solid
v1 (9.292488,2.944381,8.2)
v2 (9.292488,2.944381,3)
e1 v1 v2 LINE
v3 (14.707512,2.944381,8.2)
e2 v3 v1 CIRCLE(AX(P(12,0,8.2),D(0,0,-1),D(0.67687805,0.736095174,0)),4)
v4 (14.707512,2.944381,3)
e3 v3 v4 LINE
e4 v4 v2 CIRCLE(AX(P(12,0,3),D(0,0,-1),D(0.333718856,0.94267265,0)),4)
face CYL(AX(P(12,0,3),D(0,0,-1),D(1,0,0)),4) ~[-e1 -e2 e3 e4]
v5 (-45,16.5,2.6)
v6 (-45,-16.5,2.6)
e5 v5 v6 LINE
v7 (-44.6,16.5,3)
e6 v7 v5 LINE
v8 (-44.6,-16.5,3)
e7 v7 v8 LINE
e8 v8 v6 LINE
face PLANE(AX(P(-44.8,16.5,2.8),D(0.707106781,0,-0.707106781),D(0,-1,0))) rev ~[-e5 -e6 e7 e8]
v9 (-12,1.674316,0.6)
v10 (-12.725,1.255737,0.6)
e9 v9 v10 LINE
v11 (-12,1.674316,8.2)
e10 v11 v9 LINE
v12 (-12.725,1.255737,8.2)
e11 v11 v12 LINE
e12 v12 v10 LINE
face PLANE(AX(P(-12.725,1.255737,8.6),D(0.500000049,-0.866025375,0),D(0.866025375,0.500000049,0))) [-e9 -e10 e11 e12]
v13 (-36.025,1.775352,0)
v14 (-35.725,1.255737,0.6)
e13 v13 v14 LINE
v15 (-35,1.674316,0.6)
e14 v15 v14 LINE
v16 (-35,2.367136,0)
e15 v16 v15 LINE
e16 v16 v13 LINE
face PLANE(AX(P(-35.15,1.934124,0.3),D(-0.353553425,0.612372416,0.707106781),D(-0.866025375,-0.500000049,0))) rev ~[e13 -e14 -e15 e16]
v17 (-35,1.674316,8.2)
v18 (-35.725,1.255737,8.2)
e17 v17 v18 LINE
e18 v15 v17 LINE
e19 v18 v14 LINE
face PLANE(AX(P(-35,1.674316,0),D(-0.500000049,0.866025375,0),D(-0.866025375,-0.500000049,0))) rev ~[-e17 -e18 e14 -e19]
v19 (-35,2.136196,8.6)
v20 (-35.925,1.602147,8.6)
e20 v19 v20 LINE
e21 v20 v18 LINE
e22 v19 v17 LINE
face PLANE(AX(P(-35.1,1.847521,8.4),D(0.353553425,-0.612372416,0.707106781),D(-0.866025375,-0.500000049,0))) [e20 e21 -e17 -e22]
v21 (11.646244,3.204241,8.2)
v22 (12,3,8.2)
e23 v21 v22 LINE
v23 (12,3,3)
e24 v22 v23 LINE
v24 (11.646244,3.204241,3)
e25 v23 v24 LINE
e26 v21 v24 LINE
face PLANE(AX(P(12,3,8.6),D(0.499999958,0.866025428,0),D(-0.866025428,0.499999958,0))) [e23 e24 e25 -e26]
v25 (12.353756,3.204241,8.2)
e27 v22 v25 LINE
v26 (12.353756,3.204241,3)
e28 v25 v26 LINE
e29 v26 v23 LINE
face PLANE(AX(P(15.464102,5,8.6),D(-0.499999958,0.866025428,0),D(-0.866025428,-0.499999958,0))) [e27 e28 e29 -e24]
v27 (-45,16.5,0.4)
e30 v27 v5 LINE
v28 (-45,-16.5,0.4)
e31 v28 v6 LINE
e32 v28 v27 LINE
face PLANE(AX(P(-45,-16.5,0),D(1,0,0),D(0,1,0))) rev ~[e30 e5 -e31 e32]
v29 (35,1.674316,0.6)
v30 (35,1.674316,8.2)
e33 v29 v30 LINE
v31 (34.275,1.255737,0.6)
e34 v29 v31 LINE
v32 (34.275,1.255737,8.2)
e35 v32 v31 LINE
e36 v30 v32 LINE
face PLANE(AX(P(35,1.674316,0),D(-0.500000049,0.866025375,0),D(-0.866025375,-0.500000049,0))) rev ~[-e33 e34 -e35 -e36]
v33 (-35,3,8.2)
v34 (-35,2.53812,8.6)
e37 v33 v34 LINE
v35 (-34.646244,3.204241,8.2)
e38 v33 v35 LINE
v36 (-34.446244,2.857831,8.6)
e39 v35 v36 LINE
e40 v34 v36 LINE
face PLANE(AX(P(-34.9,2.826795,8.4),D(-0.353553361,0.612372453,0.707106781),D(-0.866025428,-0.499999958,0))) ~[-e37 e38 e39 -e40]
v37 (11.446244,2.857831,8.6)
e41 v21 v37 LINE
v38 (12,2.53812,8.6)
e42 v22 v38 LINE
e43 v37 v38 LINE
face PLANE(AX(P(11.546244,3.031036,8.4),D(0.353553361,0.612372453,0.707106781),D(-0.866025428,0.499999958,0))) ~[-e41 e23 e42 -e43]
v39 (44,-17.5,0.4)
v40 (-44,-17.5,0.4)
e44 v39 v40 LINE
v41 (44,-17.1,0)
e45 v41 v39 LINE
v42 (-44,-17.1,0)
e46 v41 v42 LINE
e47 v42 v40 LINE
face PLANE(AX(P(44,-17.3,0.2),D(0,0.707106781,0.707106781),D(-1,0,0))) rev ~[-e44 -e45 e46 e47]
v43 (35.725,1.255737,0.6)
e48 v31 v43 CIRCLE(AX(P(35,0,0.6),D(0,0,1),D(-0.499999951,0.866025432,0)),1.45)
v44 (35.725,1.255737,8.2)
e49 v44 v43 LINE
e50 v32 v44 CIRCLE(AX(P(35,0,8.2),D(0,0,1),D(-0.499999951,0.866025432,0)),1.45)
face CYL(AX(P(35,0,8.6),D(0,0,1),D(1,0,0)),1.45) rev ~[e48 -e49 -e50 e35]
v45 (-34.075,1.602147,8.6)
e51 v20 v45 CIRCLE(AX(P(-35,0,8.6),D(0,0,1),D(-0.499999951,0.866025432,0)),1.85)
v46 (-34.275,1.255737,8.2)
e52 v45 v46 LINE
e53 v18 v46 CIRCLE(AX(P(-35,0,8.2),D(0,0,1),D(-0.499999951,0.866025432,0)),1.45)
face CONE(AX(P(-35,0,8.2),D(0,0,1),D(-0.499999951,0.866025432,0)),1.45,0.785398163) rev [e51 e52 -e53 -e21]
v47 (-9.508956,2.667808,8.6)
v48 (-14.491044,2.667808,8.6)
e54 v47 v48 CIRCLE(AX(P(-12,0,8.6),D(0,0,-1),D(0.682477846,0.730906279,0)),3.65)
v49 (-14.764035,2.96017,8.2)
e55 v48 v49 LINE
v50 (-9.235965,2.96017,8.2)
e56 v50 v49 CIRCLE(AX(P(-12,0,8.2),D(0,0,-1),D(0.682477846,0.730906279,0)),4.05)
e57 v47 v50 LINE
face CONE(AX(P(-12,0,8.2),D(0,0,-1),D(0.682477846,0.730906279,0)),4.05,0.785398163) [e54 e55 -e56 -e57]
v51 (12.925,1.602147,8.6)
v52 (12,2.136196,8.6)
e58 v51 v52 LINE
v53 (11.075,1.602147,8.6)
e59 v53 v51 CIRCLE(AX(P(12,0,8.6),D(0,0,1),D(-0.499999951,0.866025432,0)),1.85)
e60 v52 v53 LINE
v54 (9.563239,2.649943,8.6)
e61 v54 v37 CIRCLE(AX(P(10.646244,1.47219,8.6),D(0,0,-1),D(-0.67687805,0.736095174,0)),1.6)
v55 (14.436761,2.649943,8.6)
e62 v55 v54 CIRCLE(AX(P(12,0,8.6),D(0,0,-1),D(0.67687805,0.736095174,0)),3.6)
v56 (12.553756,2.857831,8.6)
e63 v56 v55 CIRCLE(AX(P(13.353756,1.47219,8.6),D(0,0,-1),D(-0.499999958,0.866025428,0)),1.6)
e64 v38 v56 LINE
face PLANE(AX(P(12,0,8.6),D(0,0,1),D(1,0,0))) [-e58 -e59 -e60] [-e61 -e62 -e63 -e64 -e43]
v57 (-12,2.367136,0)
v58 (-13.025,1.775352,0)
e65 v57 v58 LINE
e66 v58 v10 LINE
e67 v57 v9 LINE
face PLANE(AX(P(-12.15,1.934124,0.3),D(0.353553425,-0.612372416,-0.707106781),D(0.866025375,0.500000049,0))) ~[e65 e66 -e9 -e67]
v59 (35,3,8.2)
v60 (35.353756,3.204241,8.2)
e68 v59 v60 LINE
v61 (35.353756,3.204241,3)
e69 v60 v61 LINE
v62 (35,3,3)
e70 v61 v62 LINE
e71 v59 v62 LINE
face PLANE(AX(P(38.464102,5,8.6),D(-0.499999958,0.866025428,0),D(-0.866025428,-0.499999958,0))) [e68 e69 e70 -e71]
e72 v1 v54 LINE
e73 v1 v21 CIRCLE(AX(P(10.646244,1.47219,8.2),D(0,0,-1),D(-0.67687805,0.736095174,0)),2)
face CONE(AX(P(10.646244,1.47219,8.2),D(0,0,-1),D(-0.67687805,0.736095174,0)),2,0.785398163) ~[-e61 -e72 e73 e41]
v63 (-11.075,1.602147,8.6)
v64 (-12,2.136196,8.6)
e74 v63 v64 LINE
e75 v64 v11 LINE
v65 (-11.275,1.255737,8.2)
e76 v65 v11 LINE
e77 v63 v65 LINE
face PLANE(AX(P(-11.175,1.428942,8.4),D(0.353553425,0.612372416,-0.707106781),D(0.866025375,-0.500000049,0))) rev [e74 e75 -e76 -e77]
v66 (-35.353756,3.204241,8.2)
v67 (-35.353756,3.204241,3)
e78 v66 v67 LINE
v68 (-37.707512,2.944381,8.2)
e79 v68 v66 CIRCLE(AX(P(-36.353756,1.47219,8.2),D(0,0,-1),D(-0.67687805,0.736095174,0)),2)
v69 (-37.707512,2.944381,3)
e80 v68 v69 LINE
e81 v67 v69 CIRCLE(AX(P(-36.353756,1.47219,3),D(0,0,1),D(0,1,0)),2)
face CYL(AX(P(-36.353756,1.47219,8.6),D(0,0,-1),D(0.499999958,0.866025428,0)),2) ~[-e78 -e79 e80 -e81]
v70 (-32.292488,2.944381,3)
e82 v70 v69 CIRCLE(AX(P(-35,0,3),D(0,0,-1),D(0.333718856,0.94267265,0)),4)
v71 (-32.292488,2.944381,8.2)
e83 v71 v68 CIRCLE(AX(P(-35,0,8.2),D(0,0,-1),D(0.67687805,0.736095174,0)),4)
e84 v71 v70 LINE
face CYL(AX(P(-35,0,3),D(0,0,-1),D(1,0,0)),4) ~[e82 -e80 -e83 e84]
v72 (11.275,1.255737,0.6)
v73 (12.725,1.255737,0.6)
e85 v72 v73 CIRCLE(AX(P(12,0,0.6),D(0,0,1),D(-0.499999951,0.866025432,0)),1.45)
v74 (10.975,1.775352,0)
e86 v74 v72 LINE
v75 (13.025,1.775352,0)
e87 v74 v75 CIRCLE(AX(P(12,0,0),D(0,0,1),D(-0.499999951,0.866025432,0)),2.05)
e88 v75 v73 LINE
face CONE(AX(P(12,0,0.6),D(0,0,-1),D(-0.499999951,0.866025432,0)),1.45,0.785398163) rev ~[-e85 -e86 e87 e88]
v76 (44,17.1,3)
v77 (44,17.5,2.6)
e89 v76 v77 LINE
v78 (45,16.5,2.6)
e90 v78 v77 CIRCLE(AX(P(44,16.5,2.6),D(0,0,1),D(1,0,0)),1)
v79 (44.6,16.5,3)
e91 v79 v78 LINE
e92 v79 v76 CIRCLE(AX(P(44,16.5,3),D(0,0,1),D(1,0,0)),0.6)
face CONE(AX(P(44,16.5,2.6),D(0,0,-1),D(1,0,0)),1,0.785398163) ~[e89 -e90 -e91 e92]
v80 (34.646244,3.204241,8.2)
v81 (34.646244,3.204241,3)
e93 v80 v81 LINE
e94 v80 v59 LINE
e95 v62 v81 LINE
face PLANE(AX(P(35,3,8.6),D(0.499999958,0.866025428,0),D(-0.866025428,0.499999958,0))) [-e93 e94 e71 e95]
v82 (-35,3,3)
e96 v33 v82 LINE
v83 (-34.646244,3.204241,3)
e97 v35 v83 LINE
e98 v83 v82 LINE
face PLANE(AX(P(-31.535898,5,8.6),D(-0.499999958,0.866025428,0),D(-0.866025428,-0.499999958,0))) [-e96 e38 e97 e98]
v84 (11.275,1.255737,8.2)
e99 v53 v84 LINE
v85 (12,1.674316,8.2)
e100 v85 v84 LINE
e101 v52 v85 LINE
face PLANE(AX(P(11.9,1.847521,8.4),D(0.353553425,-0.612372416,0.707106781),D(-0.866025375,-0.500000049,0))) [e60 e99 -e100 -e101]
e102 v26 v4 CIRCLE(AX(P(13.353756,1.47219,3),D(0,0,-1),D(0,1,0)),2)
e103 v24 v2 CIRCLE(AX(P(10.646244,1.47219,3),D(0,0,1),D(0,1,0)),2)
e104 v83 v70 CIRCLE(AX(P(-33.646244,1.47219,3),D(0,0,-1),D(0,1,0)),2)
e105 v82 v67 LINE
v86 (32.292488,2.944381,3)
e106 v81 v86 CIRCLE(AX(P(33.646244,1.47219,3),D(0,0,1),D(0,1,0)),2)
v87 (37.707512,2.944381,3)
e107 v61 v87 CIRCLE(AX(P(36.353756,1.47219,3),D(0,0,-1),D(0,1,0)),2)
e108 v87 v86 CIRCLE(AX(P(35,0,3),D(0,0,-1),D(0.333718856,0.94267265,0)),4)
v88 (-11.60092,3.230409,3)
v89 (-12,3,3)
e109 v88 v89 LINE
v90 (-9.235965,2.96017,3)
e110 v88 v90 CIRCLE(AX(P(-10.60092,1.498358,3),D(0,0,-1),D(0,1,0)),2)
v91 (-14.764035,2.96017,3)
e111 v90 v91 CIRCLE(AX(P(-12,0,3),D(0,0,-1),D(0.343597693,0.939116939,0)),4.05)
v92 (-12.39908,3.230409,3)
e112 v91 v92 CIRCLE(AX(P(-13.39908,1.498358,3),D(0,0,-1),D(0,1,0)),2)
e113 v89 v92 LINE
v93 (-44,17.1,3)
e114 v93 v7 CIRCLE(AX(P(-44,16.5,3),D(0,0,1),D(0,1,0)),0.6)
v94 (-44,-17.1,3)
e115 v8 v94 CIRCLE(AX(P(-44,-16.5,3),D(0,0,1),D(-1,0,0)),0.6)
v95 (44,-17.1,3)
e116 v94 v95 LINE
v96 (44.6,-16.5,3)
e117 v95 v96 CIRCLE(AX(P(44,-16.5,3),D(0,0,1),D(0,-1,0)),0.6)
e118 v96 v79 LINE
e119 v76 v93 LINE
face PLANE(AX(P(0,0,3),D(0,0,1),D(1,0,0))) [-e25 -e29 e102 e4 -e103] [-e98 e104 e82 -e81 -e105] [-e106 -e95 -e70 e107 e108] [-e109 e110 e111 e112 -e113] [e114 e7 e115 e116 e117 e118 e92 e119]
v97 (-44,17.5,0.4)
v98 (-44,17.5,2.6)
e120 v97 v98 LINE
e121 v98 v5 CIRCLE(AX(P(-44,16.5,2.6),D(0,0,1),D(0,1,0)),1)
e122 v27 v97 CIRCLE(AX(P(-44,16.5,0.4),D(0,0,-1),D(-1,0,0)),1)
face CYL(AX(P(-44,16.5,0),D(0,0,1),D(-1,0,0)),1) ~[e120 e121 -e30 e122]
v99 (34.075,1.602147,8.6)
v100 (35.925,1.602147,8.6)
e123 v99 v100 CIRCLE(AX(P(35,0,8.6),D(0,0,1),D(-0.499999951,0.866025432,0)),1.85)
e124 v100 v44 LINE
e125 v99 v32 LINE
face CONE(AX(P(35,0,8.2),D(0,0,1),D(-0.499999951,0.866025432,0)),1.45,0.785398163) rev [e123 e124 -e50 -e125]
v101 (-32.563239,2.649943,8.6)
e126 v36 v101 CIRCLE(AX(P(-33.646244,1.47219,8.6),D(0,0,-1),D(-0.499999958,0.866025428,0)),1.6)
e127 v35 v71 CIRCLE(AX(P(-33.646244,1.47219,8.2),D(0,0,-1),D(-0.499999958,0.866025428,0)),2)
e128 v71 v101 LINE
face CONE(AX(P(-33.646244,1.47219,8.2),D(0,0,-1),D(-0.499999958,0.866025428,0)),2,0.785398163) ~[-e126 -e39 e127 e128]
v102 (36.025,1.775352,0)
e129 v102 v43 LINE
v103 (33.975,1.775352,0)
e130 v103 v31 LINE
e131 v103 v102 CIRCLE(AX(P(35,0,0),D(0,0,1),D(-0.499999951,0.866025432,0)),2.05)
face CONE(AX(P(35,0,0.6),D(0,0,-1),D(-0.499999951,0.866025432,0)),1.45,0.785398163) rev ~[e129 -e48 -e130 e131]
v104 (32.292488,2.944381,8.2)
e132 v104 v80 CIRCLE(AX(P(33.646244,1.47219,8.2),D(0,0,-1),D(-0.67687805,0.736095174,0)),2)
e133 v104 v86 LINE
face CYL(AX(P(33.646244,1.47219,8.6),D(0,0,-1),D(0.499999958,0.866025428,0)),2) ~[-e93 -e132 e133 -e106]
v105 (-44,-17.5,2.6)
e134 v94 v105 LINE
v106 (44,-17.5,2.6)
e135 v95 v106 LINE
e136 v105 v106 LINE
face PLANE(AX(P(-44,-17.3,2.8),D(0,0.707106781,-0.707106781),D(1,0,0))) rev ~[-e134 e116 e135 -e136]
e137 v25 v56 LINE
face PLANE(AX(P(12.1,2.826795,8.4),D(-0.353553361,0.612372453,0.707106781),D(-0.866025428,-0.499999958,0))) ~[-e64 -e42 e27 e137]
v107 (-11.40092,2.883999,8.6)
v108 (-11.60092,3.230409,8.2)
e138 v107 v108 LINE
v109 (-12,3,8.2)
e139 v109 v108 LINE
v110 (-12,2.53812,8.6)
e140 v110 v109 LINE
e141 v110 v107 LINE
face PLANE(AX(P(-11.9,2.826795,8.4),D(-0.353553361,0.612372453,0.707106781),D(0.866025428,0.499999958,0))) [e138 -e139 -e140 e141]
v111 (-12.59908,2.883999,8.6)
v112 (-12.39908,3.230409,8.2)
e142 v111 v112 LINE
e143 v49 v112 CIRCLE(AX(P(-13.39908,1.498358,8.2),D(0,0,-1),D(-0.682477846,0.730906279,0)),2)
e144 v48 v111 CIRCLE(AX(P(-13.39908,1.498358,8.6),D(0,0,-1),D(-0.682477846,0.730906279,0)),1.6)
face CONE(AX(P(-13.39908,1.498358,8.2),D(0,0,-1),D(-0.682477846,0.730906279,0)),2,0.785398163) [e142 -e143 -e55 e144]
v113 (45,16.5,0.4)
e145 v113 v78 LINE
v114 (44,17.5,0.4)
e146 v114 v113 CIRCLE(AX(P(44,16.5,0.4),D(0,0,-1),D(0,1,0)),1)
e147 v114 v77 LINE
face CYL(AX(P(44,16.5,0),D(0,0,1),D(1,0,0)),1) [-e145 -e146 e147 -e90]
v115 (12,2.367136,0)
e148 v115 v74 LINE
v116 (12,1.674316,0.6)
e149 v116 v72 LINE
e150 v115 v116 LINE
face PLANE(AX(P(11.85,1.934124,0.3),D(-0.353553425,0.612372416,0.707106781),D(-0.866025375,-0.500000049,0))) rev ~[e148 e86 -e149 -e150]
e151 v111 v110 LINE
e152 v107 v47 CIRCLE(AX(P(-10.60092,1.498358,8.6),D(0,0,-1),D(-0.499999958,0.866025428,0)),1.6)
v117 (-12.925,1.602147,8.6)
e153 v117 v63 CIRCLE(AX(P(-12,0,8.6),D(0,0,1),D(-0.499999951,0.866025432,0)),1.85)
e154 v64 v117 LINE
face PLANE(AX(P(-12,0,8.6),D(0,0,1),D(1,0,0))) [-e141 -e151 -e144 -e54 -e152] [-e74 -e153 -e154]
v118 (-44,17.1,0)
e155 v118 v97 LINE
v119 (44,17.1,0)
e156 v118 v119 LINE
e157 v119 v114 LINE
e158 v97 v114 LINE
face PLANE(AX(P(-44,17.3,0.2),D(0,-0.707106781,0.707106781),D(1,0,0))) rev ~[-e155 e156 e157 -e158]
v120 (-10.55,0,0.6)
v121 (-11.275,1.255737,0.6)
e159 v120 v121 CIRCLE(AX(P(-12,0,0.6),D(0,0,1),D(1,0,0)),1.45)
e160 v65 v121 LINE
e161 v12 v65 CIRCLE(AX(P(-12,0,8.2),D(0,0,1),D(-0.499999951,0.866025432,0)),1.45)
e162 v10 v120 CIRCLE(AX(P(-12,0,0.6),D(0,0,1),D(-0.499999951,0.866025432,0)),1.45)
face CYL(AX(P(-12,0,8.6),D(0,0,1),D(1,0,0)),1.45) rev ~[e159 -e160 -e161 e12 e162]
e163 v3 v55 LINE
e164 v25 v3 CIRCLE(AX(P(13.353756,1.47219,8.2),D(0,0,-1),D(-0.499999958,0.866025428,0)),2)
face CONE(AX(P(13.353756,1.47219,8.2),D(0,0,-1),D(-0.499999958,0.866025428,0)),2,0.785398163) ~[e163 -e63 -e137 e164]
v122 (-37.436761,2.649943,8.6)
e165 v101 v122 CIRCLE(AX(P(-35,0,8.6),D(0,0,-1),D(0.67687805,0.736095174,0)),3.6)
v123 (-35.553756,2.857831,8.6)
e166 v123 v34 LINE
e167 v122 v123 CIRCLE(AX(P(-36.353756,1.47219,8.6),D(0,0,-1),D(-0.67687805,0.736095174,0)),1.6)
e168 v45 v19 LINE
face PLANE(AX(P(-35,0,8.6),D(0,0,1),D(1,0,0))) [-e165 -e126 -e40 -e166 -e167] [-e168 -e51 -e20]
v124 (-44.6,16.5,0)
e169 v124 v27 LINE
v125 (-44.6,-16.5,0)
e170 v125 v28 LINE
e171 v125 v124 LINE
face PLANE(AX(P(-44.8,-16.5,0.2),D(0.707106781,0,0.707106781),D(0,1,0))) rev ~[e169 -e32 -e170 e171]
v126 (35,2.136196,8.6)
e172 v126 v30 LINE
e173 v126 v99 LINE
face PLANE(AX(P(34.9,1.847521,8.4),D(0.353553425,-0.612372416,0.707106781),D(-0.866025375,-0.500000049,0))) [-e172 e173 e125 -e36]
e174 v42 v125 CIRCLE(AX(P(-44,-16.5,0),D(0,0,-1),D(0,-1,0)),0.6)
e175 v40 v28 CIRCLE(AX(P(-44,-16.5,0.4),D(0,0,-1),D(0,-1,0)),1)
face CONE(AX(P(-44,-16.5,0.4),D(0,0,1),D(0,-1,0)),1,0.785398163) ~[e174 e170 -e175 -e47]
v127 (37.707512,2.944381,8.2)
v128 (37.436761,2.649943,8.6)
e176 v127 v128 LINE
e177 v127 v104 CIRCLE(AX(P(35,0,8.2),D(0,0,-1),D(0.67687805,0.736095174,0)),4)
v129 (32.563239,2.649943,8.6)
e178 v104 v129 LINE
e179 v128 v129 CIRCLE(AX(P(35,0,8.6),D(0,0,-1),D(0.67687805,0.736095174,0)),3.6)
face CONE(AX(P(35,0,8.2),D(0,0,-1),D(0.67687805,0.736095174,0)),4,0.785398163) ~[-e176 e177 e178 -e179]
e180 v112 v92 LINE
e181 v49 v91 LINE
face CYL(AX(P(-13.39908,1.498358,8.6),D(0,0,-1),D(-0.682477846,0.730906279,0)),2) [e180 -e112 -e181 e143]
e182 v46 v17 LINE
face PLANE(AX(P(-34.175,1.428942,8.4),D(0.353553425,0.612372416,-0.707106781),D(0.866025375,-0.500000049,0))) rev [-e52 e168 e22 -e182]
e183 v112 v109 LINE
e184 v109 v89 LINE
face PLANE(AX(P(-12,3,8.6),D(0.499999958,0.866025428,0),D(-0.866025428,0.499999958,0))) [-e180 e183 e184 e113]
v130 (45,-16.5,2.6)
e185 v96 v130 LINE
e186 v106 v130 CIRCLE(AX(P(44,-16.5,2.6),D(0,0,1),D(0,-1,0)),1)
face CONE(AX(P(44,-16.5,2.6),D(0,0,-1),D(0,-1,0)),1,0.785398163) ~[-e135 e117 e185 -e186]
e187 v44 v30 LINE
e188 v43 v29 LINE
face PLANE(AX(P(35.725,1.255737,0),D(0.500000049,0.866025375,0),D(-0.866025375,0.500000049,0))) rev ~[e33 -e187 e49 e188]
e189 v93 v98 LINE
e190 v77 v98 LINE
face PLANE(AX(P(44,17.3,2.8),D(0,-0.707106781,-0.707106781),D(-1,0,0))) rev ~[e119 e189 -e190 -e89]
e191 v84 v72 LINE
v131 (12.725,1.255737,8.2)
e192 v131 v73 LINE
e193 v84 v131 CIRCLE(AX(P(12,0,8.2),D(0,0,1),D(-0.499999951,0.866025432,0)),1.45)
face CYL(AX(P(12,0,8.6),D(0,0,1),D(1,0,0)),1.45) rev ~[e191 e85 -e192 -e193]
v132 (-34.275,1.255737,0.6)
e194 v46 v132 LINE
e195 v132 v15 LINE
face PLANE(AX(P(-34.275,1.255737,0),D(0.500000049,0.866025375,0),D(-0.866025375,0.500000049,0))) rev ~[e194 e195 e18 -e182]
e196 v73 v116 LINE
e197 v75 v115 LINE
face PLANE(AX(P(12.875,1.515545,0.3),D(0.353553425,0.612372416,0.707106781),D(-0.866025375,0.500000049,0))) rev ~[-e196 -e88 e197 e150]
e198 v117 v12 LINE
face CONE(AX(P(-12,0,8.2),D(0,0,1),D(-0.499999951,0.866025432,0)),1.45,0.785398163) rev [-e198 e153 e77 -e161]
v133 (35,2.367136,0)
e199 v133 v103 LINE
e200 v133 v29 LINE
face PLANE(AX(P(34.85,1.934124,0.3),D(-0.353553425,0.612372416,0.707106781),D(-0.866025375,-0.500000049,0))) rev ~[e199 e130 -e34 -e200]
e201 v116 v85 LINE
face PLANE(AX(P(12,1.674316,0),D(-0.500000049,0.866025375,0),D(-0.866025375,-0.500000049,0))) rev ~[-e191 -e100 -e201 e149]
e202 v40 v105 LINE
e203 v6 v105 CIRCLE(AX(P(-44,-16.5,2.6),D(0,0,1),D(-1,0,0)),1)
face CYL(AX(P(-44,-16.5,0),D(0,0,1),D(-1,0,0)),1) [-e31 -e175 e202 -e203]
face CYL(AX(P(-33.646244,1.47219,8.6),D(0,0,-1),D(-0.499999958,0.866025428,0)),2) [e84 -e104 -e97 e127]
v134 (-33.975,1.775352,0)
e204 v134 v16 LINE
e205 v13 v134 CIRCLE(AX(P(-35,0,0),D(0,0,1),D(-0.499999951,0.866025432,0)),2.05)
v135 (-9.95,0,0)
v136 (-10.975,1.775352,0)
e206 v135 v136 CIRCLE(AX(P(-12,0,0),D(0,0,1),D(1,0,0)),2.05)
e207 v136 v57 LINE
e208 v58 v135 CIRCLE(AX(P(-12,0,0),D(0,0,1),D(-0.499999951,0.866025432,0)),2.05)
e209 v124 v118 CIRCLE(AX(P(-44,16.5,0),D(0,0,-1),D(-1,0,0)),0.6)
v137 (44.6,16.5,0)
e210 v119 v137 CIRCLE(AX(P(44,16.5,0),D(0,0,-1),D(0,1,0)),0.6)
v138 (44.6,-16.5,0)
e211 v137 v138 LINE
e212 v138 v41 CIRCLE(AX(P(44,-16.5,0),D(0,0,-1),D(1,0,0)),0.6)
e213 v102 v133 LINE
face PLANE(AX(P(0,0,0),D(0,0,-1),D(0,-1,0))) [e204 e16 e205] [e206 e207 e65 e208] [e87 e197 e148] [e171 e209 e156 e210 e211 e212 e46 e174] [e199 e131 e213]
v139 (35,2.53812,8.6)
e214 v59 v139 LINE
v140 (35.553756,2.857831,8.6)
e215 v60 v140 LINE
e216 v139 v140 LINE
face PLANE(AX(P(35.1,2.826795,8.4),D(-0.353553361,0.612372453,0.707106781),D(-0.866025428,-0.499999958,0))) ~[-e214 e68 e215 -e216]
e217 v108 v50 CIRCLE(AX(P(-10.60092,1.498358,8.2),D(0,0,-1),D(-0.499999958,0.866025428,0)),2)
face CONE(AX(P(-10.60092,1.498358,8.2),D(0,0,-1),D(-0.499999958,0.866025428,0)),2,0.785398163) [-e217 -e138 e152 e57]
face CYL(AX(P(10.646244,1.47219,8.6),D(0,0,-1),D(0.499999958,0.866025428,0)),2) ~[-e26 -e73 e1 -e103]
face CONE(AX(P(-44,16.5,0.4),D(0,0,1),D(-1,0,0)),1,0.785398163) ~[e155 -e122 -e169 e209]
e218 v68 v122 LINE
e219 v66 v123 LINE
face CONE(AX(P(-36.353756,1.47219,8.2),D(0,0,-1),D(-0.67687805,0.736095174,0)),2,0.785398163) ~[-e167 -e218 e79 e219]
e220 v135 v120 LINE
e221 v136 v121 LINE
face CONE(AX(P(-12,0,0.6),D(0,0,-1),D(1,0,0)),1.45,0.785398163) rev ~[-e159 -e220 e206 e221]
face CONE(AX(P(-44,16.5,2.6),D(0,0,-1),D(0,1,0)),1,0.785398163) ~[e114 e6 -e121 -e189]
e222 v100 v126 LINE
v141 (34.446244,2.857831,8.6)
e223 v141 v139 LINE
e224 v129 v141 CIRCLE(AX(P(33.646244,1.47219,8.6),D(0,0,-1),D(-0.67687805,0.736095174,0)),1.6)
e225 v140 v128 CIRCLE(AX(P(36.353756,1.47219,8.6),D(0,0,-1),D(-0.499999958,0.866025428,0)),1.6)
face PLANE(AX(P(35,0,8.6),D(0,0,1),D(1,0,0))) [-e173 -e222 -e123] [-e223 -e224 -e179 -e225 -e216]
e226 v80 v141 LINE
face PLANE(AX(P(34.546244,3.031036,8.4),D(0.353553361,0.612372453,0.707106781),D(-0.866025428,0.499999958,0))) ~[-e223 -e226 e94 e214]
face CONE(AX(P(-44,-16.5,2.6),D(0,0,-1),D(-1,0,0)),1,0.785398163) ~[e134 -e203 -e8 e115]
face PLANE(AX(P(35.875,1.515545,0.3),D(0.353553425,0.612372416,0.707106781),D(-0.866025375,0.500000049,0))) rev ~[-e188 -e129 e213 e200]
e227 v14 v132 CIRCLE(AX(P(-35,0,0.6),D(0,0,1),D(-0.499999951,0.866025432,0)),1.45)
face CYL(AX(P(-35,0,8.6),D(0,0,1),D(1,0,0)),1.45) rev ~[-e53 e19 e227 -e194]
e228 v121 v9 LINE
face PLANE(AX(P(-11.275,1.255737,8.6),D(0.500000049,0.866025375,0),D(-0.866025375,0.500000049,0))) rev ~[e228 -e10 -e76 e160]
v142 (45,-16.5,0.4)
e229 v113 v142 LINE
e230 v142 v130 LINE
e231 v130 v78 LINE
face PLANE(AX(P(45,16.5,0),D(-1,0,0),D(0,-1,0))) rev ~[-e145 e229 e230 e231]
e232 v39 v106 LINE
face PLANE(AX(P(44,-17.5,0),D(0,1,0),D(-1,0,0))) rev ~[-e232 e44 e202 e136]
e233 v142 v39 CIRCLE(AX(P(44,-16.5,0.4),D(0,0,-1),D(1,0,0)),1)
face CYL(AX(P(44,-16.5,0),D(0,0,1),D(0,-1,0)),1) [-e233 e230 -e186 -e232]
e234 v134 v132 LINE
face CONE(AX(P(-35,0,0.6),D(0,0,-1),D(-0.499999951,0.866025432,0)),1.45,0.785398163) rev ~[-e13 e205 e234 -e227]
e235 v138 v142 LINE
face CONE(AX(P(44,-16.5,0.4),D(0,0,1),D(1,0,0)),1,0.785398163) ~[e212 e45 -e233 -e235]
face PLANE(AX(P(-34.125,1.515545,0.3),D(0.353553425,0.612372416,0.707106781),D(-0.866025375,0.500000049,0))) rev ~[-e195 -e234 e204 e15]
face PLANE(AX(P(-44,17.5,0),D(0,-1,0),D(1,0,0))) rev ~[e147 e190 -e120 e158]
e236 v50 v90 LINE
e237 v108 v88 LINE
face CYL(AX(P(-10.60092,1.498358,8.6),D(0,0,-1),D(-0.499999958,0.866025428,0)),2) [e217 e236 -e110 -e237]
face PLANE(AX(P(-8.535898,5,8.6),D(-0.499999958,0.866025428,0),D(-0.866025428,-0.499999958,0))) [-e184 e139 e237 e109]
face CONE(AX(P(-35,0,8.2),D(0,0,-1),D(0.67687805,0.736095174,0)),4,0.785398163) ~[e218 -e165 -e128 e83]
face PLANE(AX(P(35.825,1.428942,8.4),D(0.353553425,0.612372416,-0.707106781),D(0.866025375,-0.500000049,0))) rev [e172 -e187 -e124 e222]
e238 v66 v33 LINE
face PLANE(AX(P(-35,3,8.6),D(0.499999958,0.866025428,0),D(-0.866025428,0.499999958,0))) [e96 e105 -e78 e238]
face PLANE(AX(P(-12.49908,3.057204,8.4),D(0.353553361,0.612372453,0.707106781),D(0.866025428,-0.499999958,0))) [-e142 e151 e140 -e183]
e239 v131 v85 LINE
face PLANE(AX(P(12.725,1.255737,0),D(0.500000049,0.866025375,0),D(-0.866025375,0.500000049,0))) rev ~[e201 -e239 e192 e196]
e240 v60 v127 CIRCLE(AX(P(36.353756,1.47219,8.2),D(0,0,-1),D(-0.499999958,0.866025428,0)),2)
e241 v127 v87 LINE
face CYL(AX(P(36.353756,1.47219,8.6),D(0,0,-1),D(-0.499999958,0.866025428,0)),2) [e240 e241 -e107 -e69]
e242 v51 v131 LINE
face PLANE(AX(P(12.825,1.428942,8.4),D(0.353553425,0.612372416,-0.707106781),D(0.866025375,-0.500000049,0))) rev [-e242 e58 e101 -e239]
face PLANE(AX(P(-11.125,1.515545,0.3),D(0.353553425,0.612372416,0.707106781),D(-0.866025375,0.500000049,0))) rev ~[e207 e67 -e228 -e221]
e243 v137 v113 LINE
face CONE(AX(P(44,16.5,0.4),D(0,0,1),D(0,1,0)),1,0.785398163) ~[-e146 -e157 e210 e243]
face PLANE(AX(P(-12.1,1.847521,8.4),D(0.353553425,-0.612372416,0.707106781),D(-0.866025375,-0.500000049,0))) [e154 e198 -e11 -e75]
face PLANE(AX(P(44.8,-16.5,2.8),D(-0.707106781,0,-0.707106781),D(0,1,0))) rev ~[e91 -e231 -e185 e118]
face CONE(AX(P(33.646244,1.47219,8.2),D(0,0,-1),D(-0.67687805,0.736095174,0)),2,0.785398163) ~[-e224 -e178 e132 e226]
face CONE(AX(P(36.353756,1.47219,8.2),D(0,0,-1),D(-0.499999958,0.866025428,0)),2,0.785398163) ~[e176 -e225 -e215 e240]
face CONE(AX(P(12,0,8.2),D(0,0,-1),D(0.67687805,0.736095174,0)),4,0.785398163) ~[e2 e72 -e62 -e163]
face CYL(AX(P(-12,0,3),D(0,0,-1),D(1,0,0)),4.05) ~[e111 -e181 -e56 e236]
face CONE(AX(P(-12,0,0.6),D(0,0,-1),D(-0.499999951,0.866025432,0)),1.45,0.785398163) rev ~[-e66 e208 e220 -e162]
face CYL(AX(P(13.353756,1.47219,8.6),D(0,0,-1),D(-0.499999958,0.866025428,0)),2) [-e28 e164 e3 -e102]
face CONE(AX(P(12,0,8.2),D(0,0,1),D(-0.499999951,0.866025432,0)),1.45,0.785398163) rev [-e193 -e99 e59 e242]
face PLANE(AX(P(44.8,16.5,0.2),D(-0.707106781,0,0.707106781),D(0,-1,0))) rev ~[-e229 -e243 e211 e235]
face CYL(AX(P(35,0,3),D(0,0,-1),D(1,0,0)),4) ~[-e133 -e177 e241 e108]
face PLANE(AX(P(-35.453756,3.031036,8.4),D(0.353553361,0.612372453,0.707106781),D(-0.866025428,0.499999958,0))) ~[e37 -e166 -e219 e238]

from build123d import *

# Parameters (mm, degrees)
SKETCH_W                = 90
SKETCH_H                = 35
PAD_DEPTH               = 3
SKETCH001_R             = 10.5
HOLE_DEPTH              = 25
HOLE_TEARDROPS_DEPTH    = 25
SKETCH002_R             = 4
PAD001_DEPTH            = 5.6
POCKET_DEPTH            = 5.6
SKETCH004_R             = 1.45
HOLE001_DEPTH           = 25
HOLE001_TEARDROPS_DEPTH = 25
FILLET_R                = 2
CHAMFER_SIZE            = 0.4
FILLET001_R             = 1
PAD002_DEPTH            = 7
SKETCH005_R             = 14.71653
PAD003_DEPTH            = 10
SKETCH006_R             = 4.05
PAD004_DEPTH            = 5.6
POCKET001_DEPTH         = 5.6
SKETCH008_R             = 1.45
HOLE002_DEPTH           = 25
HOLE002_TEARDROPS_DEPTH = 25
FILLET002_R             = 2
CHAMFER001_SIZE         = 0.4
POCKET002_DEPTH         = 7
CHAMFER002_SIZE         = 0.4
CHAMFER003_SIZE         = 0.6


with BuildPart() as part:
    # Sketch → Pad (new body)
    with BuildSketch(Plane.XY):
        Rectangle(SKETCH_W, SKETCH_H)
    extrude(amount=PAD_DEPTH)

    # Sketch001 (on Face6 of Pad) → Hole (cut)
    with BuildSketch(Plane.XY.offset(3)):
        with Locations((-12, 0)):
            Circle(SKETCH001_R)
    extrude(amount=-HOLE_DEPTH, mode=Mode.SUBTRACT)

    # Sketch001_Teardrops (on Sketch) → Hole_Teardrops (cut)
    with BuildSketch(Plane.XY.offset(3)):
        with BuildLine():
            ThreePointArc((-17.25, 9.093267), (-12, -10.5), (-6.75, 9.093267))
            Line((-6.75, 9.093267), (-12, 12.124356))
            Line((-17.25, 9.093267), (-12, 12.124356))
        make_face()
    extrude(amount=-HOLE_TEARDROPS_DEPTH, mode=Mode.SUBTRACT)

    # Sketch002 (on Face5 of Hole_Teardrops) → Pad001 (join)
    with BuildSketch(Plane.XY.offset(3)):
        with Locations((35, 0)):
            Circle(SKETCH002_R)
        with Locations((12, 0)):
            Circle(SKETCH002_R)
        with Locations((-35, 0)):
            Circle(SKETCH002_R)
    extrude(amount=PAD001_DEPTH)

    # Sketch003 (on Face13 of Pad001) → Pocket (cut)
    with BuildSketch(Plane.XY.offset(8.6)):
        Polygon((-35, 3), (-38.464102, 5), (-31.535898, 5), align=None)
        Polygon((12, 3), (8.535898, 5), (15.464102, 5), align=None)
        Polygon((38.464102, 5), (35, 3), (31.535898, 5), align=None)
    extrude(amount=-POCKET_DEPTH, mode=Mode.SUBTRACT)

    # Sketch004 (on Face17 of Pocket) → Hole001 (cut)
    with BuildSketch(Plane.XY.offset(8.6)):
        with Locations((-35, 0)):
            Circle(SKETCH004_R)
        with Locations((12, 0)):
            Circle(SKETCH004_R)
        with Locations((35, 0)):
            Circle(SKETCH004_R)
    extrude(amount=-HOLE001_DEPTH, mode=Mode.SUBTRACT)

    # Sketch004_Teardrops (on Sketch) → Hole001_Teardrops (cut)
    with BuildSketch(Plane.XY.offset(8.6)):
        with BuildLine():
            ThreePointArc((-35.725, 1.255737), (-35, -1.45), (-34.275, 1.255737))
            Line((-34.275, 1.255737), (-35, 1.674316))
            Line((-35.725, 1.255737), (-35, 1.674316))
        make_face()
        with BuildLine():
            ThreePointArc((11.275, 1.255737), (12, -1.45), (12.725, 1.255737))
            Line((12.725, 1.255737), (12, 1.674316))
            Line((11.275, 1.255737), (12, 1.674316))
        make_face()
        with BuildLine():
            ThreePointArc((34.275, 1.255737), (35, -1.45), (35.725, 1.255737))
            Line((35.725, 1.255737), (35, 1.674316))
            Line((34.275, 1.255737), (35, 1.674316))
        make_face()
    extrude(amount=-HOLE001_TEARDROPS_DEPTH, mode=Mode.SUBTRACT)

    # Fillet
    fillet_edges = [part.edges().sort_by_distance(p)[0] for p in [
        (36.334875, 3.770691, 5.8),
        (33.665125, 3.770691, 5.8),
        (13.334875, 3.770691, 5.8),
        (10.665125, 3.770691, 5.8),
        (-33.665125, 3.770691, 5.8),
        (-36.334875, 3.770691, 5.8),
    ]]
    fillet(fillet_edges, radius=FILLET_R)

    # Chamfer
    chamfer_edges = [part.edges().sort_by_distance(p)[0] for p in [
        (33.392214, -3.662653, 8.6),
        (10.392214, -3.662653, 8.6),
        (-36.607786, -3.662653, 8.6),
        (-35.725, -1.255737, 8.6),
        (11.275, -1.255737, 8.6),
        (34.275, -1.255737, 8.6),
    ]]
    chamfer(chamfer_edges, length=CHAMFER_SIZE)

    # Fillet001
    fillet001_edges = [part.edges().sort_by_distance(p)[0] for p in [
        (45, 17.5, 1.5),
        (-45, 17.5, 1.5),
        (-45, -17.5, 1.5),
        (45, -17.5, 1.5),
    ]]
    fillet(fillet001_edges, radius=FILLET001_R)

    # Fillet001 Face28 → Pad002 (add)
    with BuildSketch(Plane(origin=(1.493435, -0.023344, 0), x_dir=(0, -1, 0), z_dir=(0, 0, -1))):
        with BuildLine():
            Line((16.476656, 46.493435), (-16.523344, 46.493435))
            ThreePointArc((-16.523344, 46.493435), (-17.230451, 46.200542), (-17.523344, 45.493435))
            Line((-17.523344, 45.493435), (-17.523344, -42.506565))
            ThreePointArc((-17.523344, -42.506565), (-17.230451, -43.213672), (-16.523344, -43.506565))
            Line((-16.523344, -43.506565), (16.476656, -43.506565))
            ThreePointArc((16.476656, -43.506565), (17.183762, -43.213672), (17.476656, -42.506565))
            Line((17.476656, -42.506565), (17.476656, 45.493435))
            ThreePointArc((17.476656, 45.493435), (17.183762, 46.200542), (16.476656, 46.493435))
        make_face()
        with BuildLine():
            ThreePointArc((-0.023344, 35.043435), (-0.748344, 35.237698), (-1.279081, 35.768435))
            Line((-1.279081, 35.768435), (-1.69766, 36.493435))
            Line((-1.69766, 36.493435), (-1.279081, 37.218435))
            ThreePointArc((-1.279081, 37.218435), (1.232392, 37.218435), (-0.023344, 35.043435))
        make_face(mode=Mode.SUBTRACT)
        with BuildLine():
            ThreePointArc((-0.023344, -11.956565), (-0.748344, -11.762302), (-1.279081, -11.231565))
            Line((-1.279081, -11.231565), (-1.69766, -10.506565))
            Line((-1.69766, -10.506565), (-1.279081, -9.781565))
            ThreePointArc((-1.279081, -9.781565), (1.232392, -9.781565), (-0.023344, -11.956565))
        make_face(mode=Mode.SUBTRACT)
        with BuildLine():
            ThreePointArc((-0.023344, -34.956565), (-0.748344, -34.762302), (-1.279081, -34.231565))
            Line((-1.279081, -34.231565), (-1.69766, -33.506565))
            Line((-1.69766, -33.506565), (-1.279081, -32.781565))
            ThreePointArc((-1.279081, -32.781565), (1.232392, -32.781565), (-0.023344, -34.956565))
        make_face(mode=Mode.SUBTRACT)
        with BuildLine():
            ThreePointArc((-0.023344, 2.993435), (-5.273344, 4.400168), (-9.116611, 8.243435))
            Line((-9.116611, 8.243435), (-12.1477, 13.493435))
            Line((-12.1477, 13.493435), (-9.116611, 18.743435))
            ThreePointArc((-9.116611, 18.743435), (9.069922, 18.743435), (-0.023344, 2.993435))
        make_face(mode=Mode.SUBTRACT)
    extrude(amount=PAD002_DEPTH)

    # Sketch005 (on Face3 of Pad002) → Pad003 (join)
    with BuildSketch(Plane.XY.offset(3)):
        with Locations((-11.639154, 0)):
            Circle(SKETCH005_R)
    extrude(amount=-PAD003_DEPTH)

    # Sketch006 (on Face67 of Pad003) → Pad004 (join)
    with BuildSketch(Plane.XY.offset(3)):
        with Locations((-12, 0)):
            Circle(SKETCH006_R)
    extrude(amount=PAD004_DEPTH)

    # Sketch007 (on Face66 of Pad004) → Pocket001 (cut)
    with BuildSketch(Plane.XY.offset(8.6)):
        Polygon((-12, 3), (-15.464102, 5), (-8.535898, 5), align=None)
    extrude(amount=-POCKET001_DEPTH, mode=Mode.SUBTRACT)

    # Sketch008 (on Face69 of Pocket001) → Hole002 (cut)
    with BuildSketch(Plane.XY.offset(8.6)):
        with Locations((-12, 0)):
            Circle(SKETCH008_R)
    extrude(amount=-HOLE002_DEPTH, mode=Mode.SUBTRACT)

    # Sketch008_Teardrops (on Sketch) → Hole002_Teardrops (cut)
    with BuildSketch(Plane.XY.offset(8.6)):
        with BuildLine():
            ThreePointArc((-12.725, 1.255737), (-12, -1.45), (-11.275, 1.255737))
            Line((-11.275, 1.255737), (-12, 1.674316))
            Line((-12.725, 1.255737), (-12, 1.674316))
        make_face()
    extrude(amount=-HOLE002_TEARDROPS_DEPTH, mode=Mode.SUBTRACT)

    # Fillet002
    fillet002_edges = [part.edges().sort_by_distance(p)[0] for p in [
        (-10.608429, 3.803424, 5.8),
        (-13.391571, 3.803424, 5.8),
    ]]
    fillet(fillet002_edges, radius=FILLET002_R)

    # Chamfer001
    chamfer001_edges = [part.edges().sort_by_distance(p)[0] for p in [
        (-12.725, -1.255737, 8.6),
        (-13.613716, -3.714623, 8.6),
    ]]
    chamfer(chamfer001_edges, length=CHAMFER001_SIZE)

    # Chamfer001 Face41 → Pocket002 (cut)
    with BuildSketch(Plane(origin=(0, -0.000217, -7), x_dir=(0, -1, 0), z_dir=(0, 0, -1))):
        with BuildLine():
            Line((16.499783, 45), (-16.500217, 45))
            ThreePointArc((-16.500217, 45), (-17.207324, 44.707107), (-17.500217, 44))
            Line((-17.500217, 44), (-17.500217, -44))
            ThreePointArc((-17.500217, -44), (-17.207324, -44.707107), (-16.500217, -45))
            Line((-16.500217, -45), (16.499783, -45))
            ThreePointArc((16.499783, -45), (17.20689, -44.707107), (17.499783, -44))
            Line((17.499783, -44), (17.499783, 44))
            ThreePointArc((17.499783, 44), (17.20689, 44.707107), (16.499783, 45))
        make_face()
        with BuildLine():
            ThreePointArc((-0.000217, -36.45), (-0.725217, -36.255737), (-1.255954, -35.725))
            Line((-1.255954, -35.725), (-1.674533, -35))
            Line((-1.674533, -35), (-1.255954, -34.275))
            ThreePointArc((-1.255954, -34.275), (1.25552, -34.275), (-0.000217, -36.45))
        make_face(mode=Mode.SUBTRACT)
        with BuildLine():
            ThreePointArc((-0.000217, -13.45), (-0.725217, -13.255737), (-1.255954, -12.725))
            Line((-1.255954, -12.725), (-1.674533, -12))
            Line((-1.674533, -12), (-1.255954, -11.275))
            ThreePointArc((-1.255954, -11.275), (1.25552, -11.275), (-0.000217, -13.45))
        make_face(mode=Mode.SUBTRACT)
        with BuildLine():
            ThreePointArc((-0.000217, 33.55), (-0.725217, 33.744263), (-1.255954, 34.275))
            Line((-1.255954, 34.275), (-1.674533, 35))
            Line((-1.674533, 35), (-1.255954, 35.725))
            ThreePointArc((-1.255954, 35.725), (1.25552, 35.725), (-0.000217, 33.55))
        make_face(mode=Mode.SUBTRACT)
        with BuildLine():
            ThreePointArc((-1.255954, 12.725), (1.25552, 12.725), (-0.000217, 10.55))
            ThreePointArc((-0.000217, 10.55), (-0.725217, 10.744263), (-1.255954, 11.275))
            Line((-1.255954, 11.275), (-1.674533, 12))
            Line((-1.674533, 12), (-1.255954, 12.725))
        make_face(mode=Mode.SUBTRACT)
    extrude(amount=-POCKET002_DEPTH, mode=Mode.SUBTRACT)

    # Chamfer002
    chamfer002_edges = [part.edges().sort_by_distance(p)[0] for p in [
        (0, -17.5, 3),
        (0, -17.5, 0),
    ]]
    chamfer(chamfer002_edges, length=CHAMFER002_SIZE)

    # Chamfer003
    chamfer003_edges = [part.edges().sort_by_distance(p)[0] for p in [
        (34.275, -1.255737, 0),
        (11.275, -1.255737, 0),
        (-12.725, -1.255737, 0),
        (-35.725, -1.255737, 0),
    ]]
    chamfer(chamfer003_edges, length=CHAMFER003_SIZE)


solid = part.part
